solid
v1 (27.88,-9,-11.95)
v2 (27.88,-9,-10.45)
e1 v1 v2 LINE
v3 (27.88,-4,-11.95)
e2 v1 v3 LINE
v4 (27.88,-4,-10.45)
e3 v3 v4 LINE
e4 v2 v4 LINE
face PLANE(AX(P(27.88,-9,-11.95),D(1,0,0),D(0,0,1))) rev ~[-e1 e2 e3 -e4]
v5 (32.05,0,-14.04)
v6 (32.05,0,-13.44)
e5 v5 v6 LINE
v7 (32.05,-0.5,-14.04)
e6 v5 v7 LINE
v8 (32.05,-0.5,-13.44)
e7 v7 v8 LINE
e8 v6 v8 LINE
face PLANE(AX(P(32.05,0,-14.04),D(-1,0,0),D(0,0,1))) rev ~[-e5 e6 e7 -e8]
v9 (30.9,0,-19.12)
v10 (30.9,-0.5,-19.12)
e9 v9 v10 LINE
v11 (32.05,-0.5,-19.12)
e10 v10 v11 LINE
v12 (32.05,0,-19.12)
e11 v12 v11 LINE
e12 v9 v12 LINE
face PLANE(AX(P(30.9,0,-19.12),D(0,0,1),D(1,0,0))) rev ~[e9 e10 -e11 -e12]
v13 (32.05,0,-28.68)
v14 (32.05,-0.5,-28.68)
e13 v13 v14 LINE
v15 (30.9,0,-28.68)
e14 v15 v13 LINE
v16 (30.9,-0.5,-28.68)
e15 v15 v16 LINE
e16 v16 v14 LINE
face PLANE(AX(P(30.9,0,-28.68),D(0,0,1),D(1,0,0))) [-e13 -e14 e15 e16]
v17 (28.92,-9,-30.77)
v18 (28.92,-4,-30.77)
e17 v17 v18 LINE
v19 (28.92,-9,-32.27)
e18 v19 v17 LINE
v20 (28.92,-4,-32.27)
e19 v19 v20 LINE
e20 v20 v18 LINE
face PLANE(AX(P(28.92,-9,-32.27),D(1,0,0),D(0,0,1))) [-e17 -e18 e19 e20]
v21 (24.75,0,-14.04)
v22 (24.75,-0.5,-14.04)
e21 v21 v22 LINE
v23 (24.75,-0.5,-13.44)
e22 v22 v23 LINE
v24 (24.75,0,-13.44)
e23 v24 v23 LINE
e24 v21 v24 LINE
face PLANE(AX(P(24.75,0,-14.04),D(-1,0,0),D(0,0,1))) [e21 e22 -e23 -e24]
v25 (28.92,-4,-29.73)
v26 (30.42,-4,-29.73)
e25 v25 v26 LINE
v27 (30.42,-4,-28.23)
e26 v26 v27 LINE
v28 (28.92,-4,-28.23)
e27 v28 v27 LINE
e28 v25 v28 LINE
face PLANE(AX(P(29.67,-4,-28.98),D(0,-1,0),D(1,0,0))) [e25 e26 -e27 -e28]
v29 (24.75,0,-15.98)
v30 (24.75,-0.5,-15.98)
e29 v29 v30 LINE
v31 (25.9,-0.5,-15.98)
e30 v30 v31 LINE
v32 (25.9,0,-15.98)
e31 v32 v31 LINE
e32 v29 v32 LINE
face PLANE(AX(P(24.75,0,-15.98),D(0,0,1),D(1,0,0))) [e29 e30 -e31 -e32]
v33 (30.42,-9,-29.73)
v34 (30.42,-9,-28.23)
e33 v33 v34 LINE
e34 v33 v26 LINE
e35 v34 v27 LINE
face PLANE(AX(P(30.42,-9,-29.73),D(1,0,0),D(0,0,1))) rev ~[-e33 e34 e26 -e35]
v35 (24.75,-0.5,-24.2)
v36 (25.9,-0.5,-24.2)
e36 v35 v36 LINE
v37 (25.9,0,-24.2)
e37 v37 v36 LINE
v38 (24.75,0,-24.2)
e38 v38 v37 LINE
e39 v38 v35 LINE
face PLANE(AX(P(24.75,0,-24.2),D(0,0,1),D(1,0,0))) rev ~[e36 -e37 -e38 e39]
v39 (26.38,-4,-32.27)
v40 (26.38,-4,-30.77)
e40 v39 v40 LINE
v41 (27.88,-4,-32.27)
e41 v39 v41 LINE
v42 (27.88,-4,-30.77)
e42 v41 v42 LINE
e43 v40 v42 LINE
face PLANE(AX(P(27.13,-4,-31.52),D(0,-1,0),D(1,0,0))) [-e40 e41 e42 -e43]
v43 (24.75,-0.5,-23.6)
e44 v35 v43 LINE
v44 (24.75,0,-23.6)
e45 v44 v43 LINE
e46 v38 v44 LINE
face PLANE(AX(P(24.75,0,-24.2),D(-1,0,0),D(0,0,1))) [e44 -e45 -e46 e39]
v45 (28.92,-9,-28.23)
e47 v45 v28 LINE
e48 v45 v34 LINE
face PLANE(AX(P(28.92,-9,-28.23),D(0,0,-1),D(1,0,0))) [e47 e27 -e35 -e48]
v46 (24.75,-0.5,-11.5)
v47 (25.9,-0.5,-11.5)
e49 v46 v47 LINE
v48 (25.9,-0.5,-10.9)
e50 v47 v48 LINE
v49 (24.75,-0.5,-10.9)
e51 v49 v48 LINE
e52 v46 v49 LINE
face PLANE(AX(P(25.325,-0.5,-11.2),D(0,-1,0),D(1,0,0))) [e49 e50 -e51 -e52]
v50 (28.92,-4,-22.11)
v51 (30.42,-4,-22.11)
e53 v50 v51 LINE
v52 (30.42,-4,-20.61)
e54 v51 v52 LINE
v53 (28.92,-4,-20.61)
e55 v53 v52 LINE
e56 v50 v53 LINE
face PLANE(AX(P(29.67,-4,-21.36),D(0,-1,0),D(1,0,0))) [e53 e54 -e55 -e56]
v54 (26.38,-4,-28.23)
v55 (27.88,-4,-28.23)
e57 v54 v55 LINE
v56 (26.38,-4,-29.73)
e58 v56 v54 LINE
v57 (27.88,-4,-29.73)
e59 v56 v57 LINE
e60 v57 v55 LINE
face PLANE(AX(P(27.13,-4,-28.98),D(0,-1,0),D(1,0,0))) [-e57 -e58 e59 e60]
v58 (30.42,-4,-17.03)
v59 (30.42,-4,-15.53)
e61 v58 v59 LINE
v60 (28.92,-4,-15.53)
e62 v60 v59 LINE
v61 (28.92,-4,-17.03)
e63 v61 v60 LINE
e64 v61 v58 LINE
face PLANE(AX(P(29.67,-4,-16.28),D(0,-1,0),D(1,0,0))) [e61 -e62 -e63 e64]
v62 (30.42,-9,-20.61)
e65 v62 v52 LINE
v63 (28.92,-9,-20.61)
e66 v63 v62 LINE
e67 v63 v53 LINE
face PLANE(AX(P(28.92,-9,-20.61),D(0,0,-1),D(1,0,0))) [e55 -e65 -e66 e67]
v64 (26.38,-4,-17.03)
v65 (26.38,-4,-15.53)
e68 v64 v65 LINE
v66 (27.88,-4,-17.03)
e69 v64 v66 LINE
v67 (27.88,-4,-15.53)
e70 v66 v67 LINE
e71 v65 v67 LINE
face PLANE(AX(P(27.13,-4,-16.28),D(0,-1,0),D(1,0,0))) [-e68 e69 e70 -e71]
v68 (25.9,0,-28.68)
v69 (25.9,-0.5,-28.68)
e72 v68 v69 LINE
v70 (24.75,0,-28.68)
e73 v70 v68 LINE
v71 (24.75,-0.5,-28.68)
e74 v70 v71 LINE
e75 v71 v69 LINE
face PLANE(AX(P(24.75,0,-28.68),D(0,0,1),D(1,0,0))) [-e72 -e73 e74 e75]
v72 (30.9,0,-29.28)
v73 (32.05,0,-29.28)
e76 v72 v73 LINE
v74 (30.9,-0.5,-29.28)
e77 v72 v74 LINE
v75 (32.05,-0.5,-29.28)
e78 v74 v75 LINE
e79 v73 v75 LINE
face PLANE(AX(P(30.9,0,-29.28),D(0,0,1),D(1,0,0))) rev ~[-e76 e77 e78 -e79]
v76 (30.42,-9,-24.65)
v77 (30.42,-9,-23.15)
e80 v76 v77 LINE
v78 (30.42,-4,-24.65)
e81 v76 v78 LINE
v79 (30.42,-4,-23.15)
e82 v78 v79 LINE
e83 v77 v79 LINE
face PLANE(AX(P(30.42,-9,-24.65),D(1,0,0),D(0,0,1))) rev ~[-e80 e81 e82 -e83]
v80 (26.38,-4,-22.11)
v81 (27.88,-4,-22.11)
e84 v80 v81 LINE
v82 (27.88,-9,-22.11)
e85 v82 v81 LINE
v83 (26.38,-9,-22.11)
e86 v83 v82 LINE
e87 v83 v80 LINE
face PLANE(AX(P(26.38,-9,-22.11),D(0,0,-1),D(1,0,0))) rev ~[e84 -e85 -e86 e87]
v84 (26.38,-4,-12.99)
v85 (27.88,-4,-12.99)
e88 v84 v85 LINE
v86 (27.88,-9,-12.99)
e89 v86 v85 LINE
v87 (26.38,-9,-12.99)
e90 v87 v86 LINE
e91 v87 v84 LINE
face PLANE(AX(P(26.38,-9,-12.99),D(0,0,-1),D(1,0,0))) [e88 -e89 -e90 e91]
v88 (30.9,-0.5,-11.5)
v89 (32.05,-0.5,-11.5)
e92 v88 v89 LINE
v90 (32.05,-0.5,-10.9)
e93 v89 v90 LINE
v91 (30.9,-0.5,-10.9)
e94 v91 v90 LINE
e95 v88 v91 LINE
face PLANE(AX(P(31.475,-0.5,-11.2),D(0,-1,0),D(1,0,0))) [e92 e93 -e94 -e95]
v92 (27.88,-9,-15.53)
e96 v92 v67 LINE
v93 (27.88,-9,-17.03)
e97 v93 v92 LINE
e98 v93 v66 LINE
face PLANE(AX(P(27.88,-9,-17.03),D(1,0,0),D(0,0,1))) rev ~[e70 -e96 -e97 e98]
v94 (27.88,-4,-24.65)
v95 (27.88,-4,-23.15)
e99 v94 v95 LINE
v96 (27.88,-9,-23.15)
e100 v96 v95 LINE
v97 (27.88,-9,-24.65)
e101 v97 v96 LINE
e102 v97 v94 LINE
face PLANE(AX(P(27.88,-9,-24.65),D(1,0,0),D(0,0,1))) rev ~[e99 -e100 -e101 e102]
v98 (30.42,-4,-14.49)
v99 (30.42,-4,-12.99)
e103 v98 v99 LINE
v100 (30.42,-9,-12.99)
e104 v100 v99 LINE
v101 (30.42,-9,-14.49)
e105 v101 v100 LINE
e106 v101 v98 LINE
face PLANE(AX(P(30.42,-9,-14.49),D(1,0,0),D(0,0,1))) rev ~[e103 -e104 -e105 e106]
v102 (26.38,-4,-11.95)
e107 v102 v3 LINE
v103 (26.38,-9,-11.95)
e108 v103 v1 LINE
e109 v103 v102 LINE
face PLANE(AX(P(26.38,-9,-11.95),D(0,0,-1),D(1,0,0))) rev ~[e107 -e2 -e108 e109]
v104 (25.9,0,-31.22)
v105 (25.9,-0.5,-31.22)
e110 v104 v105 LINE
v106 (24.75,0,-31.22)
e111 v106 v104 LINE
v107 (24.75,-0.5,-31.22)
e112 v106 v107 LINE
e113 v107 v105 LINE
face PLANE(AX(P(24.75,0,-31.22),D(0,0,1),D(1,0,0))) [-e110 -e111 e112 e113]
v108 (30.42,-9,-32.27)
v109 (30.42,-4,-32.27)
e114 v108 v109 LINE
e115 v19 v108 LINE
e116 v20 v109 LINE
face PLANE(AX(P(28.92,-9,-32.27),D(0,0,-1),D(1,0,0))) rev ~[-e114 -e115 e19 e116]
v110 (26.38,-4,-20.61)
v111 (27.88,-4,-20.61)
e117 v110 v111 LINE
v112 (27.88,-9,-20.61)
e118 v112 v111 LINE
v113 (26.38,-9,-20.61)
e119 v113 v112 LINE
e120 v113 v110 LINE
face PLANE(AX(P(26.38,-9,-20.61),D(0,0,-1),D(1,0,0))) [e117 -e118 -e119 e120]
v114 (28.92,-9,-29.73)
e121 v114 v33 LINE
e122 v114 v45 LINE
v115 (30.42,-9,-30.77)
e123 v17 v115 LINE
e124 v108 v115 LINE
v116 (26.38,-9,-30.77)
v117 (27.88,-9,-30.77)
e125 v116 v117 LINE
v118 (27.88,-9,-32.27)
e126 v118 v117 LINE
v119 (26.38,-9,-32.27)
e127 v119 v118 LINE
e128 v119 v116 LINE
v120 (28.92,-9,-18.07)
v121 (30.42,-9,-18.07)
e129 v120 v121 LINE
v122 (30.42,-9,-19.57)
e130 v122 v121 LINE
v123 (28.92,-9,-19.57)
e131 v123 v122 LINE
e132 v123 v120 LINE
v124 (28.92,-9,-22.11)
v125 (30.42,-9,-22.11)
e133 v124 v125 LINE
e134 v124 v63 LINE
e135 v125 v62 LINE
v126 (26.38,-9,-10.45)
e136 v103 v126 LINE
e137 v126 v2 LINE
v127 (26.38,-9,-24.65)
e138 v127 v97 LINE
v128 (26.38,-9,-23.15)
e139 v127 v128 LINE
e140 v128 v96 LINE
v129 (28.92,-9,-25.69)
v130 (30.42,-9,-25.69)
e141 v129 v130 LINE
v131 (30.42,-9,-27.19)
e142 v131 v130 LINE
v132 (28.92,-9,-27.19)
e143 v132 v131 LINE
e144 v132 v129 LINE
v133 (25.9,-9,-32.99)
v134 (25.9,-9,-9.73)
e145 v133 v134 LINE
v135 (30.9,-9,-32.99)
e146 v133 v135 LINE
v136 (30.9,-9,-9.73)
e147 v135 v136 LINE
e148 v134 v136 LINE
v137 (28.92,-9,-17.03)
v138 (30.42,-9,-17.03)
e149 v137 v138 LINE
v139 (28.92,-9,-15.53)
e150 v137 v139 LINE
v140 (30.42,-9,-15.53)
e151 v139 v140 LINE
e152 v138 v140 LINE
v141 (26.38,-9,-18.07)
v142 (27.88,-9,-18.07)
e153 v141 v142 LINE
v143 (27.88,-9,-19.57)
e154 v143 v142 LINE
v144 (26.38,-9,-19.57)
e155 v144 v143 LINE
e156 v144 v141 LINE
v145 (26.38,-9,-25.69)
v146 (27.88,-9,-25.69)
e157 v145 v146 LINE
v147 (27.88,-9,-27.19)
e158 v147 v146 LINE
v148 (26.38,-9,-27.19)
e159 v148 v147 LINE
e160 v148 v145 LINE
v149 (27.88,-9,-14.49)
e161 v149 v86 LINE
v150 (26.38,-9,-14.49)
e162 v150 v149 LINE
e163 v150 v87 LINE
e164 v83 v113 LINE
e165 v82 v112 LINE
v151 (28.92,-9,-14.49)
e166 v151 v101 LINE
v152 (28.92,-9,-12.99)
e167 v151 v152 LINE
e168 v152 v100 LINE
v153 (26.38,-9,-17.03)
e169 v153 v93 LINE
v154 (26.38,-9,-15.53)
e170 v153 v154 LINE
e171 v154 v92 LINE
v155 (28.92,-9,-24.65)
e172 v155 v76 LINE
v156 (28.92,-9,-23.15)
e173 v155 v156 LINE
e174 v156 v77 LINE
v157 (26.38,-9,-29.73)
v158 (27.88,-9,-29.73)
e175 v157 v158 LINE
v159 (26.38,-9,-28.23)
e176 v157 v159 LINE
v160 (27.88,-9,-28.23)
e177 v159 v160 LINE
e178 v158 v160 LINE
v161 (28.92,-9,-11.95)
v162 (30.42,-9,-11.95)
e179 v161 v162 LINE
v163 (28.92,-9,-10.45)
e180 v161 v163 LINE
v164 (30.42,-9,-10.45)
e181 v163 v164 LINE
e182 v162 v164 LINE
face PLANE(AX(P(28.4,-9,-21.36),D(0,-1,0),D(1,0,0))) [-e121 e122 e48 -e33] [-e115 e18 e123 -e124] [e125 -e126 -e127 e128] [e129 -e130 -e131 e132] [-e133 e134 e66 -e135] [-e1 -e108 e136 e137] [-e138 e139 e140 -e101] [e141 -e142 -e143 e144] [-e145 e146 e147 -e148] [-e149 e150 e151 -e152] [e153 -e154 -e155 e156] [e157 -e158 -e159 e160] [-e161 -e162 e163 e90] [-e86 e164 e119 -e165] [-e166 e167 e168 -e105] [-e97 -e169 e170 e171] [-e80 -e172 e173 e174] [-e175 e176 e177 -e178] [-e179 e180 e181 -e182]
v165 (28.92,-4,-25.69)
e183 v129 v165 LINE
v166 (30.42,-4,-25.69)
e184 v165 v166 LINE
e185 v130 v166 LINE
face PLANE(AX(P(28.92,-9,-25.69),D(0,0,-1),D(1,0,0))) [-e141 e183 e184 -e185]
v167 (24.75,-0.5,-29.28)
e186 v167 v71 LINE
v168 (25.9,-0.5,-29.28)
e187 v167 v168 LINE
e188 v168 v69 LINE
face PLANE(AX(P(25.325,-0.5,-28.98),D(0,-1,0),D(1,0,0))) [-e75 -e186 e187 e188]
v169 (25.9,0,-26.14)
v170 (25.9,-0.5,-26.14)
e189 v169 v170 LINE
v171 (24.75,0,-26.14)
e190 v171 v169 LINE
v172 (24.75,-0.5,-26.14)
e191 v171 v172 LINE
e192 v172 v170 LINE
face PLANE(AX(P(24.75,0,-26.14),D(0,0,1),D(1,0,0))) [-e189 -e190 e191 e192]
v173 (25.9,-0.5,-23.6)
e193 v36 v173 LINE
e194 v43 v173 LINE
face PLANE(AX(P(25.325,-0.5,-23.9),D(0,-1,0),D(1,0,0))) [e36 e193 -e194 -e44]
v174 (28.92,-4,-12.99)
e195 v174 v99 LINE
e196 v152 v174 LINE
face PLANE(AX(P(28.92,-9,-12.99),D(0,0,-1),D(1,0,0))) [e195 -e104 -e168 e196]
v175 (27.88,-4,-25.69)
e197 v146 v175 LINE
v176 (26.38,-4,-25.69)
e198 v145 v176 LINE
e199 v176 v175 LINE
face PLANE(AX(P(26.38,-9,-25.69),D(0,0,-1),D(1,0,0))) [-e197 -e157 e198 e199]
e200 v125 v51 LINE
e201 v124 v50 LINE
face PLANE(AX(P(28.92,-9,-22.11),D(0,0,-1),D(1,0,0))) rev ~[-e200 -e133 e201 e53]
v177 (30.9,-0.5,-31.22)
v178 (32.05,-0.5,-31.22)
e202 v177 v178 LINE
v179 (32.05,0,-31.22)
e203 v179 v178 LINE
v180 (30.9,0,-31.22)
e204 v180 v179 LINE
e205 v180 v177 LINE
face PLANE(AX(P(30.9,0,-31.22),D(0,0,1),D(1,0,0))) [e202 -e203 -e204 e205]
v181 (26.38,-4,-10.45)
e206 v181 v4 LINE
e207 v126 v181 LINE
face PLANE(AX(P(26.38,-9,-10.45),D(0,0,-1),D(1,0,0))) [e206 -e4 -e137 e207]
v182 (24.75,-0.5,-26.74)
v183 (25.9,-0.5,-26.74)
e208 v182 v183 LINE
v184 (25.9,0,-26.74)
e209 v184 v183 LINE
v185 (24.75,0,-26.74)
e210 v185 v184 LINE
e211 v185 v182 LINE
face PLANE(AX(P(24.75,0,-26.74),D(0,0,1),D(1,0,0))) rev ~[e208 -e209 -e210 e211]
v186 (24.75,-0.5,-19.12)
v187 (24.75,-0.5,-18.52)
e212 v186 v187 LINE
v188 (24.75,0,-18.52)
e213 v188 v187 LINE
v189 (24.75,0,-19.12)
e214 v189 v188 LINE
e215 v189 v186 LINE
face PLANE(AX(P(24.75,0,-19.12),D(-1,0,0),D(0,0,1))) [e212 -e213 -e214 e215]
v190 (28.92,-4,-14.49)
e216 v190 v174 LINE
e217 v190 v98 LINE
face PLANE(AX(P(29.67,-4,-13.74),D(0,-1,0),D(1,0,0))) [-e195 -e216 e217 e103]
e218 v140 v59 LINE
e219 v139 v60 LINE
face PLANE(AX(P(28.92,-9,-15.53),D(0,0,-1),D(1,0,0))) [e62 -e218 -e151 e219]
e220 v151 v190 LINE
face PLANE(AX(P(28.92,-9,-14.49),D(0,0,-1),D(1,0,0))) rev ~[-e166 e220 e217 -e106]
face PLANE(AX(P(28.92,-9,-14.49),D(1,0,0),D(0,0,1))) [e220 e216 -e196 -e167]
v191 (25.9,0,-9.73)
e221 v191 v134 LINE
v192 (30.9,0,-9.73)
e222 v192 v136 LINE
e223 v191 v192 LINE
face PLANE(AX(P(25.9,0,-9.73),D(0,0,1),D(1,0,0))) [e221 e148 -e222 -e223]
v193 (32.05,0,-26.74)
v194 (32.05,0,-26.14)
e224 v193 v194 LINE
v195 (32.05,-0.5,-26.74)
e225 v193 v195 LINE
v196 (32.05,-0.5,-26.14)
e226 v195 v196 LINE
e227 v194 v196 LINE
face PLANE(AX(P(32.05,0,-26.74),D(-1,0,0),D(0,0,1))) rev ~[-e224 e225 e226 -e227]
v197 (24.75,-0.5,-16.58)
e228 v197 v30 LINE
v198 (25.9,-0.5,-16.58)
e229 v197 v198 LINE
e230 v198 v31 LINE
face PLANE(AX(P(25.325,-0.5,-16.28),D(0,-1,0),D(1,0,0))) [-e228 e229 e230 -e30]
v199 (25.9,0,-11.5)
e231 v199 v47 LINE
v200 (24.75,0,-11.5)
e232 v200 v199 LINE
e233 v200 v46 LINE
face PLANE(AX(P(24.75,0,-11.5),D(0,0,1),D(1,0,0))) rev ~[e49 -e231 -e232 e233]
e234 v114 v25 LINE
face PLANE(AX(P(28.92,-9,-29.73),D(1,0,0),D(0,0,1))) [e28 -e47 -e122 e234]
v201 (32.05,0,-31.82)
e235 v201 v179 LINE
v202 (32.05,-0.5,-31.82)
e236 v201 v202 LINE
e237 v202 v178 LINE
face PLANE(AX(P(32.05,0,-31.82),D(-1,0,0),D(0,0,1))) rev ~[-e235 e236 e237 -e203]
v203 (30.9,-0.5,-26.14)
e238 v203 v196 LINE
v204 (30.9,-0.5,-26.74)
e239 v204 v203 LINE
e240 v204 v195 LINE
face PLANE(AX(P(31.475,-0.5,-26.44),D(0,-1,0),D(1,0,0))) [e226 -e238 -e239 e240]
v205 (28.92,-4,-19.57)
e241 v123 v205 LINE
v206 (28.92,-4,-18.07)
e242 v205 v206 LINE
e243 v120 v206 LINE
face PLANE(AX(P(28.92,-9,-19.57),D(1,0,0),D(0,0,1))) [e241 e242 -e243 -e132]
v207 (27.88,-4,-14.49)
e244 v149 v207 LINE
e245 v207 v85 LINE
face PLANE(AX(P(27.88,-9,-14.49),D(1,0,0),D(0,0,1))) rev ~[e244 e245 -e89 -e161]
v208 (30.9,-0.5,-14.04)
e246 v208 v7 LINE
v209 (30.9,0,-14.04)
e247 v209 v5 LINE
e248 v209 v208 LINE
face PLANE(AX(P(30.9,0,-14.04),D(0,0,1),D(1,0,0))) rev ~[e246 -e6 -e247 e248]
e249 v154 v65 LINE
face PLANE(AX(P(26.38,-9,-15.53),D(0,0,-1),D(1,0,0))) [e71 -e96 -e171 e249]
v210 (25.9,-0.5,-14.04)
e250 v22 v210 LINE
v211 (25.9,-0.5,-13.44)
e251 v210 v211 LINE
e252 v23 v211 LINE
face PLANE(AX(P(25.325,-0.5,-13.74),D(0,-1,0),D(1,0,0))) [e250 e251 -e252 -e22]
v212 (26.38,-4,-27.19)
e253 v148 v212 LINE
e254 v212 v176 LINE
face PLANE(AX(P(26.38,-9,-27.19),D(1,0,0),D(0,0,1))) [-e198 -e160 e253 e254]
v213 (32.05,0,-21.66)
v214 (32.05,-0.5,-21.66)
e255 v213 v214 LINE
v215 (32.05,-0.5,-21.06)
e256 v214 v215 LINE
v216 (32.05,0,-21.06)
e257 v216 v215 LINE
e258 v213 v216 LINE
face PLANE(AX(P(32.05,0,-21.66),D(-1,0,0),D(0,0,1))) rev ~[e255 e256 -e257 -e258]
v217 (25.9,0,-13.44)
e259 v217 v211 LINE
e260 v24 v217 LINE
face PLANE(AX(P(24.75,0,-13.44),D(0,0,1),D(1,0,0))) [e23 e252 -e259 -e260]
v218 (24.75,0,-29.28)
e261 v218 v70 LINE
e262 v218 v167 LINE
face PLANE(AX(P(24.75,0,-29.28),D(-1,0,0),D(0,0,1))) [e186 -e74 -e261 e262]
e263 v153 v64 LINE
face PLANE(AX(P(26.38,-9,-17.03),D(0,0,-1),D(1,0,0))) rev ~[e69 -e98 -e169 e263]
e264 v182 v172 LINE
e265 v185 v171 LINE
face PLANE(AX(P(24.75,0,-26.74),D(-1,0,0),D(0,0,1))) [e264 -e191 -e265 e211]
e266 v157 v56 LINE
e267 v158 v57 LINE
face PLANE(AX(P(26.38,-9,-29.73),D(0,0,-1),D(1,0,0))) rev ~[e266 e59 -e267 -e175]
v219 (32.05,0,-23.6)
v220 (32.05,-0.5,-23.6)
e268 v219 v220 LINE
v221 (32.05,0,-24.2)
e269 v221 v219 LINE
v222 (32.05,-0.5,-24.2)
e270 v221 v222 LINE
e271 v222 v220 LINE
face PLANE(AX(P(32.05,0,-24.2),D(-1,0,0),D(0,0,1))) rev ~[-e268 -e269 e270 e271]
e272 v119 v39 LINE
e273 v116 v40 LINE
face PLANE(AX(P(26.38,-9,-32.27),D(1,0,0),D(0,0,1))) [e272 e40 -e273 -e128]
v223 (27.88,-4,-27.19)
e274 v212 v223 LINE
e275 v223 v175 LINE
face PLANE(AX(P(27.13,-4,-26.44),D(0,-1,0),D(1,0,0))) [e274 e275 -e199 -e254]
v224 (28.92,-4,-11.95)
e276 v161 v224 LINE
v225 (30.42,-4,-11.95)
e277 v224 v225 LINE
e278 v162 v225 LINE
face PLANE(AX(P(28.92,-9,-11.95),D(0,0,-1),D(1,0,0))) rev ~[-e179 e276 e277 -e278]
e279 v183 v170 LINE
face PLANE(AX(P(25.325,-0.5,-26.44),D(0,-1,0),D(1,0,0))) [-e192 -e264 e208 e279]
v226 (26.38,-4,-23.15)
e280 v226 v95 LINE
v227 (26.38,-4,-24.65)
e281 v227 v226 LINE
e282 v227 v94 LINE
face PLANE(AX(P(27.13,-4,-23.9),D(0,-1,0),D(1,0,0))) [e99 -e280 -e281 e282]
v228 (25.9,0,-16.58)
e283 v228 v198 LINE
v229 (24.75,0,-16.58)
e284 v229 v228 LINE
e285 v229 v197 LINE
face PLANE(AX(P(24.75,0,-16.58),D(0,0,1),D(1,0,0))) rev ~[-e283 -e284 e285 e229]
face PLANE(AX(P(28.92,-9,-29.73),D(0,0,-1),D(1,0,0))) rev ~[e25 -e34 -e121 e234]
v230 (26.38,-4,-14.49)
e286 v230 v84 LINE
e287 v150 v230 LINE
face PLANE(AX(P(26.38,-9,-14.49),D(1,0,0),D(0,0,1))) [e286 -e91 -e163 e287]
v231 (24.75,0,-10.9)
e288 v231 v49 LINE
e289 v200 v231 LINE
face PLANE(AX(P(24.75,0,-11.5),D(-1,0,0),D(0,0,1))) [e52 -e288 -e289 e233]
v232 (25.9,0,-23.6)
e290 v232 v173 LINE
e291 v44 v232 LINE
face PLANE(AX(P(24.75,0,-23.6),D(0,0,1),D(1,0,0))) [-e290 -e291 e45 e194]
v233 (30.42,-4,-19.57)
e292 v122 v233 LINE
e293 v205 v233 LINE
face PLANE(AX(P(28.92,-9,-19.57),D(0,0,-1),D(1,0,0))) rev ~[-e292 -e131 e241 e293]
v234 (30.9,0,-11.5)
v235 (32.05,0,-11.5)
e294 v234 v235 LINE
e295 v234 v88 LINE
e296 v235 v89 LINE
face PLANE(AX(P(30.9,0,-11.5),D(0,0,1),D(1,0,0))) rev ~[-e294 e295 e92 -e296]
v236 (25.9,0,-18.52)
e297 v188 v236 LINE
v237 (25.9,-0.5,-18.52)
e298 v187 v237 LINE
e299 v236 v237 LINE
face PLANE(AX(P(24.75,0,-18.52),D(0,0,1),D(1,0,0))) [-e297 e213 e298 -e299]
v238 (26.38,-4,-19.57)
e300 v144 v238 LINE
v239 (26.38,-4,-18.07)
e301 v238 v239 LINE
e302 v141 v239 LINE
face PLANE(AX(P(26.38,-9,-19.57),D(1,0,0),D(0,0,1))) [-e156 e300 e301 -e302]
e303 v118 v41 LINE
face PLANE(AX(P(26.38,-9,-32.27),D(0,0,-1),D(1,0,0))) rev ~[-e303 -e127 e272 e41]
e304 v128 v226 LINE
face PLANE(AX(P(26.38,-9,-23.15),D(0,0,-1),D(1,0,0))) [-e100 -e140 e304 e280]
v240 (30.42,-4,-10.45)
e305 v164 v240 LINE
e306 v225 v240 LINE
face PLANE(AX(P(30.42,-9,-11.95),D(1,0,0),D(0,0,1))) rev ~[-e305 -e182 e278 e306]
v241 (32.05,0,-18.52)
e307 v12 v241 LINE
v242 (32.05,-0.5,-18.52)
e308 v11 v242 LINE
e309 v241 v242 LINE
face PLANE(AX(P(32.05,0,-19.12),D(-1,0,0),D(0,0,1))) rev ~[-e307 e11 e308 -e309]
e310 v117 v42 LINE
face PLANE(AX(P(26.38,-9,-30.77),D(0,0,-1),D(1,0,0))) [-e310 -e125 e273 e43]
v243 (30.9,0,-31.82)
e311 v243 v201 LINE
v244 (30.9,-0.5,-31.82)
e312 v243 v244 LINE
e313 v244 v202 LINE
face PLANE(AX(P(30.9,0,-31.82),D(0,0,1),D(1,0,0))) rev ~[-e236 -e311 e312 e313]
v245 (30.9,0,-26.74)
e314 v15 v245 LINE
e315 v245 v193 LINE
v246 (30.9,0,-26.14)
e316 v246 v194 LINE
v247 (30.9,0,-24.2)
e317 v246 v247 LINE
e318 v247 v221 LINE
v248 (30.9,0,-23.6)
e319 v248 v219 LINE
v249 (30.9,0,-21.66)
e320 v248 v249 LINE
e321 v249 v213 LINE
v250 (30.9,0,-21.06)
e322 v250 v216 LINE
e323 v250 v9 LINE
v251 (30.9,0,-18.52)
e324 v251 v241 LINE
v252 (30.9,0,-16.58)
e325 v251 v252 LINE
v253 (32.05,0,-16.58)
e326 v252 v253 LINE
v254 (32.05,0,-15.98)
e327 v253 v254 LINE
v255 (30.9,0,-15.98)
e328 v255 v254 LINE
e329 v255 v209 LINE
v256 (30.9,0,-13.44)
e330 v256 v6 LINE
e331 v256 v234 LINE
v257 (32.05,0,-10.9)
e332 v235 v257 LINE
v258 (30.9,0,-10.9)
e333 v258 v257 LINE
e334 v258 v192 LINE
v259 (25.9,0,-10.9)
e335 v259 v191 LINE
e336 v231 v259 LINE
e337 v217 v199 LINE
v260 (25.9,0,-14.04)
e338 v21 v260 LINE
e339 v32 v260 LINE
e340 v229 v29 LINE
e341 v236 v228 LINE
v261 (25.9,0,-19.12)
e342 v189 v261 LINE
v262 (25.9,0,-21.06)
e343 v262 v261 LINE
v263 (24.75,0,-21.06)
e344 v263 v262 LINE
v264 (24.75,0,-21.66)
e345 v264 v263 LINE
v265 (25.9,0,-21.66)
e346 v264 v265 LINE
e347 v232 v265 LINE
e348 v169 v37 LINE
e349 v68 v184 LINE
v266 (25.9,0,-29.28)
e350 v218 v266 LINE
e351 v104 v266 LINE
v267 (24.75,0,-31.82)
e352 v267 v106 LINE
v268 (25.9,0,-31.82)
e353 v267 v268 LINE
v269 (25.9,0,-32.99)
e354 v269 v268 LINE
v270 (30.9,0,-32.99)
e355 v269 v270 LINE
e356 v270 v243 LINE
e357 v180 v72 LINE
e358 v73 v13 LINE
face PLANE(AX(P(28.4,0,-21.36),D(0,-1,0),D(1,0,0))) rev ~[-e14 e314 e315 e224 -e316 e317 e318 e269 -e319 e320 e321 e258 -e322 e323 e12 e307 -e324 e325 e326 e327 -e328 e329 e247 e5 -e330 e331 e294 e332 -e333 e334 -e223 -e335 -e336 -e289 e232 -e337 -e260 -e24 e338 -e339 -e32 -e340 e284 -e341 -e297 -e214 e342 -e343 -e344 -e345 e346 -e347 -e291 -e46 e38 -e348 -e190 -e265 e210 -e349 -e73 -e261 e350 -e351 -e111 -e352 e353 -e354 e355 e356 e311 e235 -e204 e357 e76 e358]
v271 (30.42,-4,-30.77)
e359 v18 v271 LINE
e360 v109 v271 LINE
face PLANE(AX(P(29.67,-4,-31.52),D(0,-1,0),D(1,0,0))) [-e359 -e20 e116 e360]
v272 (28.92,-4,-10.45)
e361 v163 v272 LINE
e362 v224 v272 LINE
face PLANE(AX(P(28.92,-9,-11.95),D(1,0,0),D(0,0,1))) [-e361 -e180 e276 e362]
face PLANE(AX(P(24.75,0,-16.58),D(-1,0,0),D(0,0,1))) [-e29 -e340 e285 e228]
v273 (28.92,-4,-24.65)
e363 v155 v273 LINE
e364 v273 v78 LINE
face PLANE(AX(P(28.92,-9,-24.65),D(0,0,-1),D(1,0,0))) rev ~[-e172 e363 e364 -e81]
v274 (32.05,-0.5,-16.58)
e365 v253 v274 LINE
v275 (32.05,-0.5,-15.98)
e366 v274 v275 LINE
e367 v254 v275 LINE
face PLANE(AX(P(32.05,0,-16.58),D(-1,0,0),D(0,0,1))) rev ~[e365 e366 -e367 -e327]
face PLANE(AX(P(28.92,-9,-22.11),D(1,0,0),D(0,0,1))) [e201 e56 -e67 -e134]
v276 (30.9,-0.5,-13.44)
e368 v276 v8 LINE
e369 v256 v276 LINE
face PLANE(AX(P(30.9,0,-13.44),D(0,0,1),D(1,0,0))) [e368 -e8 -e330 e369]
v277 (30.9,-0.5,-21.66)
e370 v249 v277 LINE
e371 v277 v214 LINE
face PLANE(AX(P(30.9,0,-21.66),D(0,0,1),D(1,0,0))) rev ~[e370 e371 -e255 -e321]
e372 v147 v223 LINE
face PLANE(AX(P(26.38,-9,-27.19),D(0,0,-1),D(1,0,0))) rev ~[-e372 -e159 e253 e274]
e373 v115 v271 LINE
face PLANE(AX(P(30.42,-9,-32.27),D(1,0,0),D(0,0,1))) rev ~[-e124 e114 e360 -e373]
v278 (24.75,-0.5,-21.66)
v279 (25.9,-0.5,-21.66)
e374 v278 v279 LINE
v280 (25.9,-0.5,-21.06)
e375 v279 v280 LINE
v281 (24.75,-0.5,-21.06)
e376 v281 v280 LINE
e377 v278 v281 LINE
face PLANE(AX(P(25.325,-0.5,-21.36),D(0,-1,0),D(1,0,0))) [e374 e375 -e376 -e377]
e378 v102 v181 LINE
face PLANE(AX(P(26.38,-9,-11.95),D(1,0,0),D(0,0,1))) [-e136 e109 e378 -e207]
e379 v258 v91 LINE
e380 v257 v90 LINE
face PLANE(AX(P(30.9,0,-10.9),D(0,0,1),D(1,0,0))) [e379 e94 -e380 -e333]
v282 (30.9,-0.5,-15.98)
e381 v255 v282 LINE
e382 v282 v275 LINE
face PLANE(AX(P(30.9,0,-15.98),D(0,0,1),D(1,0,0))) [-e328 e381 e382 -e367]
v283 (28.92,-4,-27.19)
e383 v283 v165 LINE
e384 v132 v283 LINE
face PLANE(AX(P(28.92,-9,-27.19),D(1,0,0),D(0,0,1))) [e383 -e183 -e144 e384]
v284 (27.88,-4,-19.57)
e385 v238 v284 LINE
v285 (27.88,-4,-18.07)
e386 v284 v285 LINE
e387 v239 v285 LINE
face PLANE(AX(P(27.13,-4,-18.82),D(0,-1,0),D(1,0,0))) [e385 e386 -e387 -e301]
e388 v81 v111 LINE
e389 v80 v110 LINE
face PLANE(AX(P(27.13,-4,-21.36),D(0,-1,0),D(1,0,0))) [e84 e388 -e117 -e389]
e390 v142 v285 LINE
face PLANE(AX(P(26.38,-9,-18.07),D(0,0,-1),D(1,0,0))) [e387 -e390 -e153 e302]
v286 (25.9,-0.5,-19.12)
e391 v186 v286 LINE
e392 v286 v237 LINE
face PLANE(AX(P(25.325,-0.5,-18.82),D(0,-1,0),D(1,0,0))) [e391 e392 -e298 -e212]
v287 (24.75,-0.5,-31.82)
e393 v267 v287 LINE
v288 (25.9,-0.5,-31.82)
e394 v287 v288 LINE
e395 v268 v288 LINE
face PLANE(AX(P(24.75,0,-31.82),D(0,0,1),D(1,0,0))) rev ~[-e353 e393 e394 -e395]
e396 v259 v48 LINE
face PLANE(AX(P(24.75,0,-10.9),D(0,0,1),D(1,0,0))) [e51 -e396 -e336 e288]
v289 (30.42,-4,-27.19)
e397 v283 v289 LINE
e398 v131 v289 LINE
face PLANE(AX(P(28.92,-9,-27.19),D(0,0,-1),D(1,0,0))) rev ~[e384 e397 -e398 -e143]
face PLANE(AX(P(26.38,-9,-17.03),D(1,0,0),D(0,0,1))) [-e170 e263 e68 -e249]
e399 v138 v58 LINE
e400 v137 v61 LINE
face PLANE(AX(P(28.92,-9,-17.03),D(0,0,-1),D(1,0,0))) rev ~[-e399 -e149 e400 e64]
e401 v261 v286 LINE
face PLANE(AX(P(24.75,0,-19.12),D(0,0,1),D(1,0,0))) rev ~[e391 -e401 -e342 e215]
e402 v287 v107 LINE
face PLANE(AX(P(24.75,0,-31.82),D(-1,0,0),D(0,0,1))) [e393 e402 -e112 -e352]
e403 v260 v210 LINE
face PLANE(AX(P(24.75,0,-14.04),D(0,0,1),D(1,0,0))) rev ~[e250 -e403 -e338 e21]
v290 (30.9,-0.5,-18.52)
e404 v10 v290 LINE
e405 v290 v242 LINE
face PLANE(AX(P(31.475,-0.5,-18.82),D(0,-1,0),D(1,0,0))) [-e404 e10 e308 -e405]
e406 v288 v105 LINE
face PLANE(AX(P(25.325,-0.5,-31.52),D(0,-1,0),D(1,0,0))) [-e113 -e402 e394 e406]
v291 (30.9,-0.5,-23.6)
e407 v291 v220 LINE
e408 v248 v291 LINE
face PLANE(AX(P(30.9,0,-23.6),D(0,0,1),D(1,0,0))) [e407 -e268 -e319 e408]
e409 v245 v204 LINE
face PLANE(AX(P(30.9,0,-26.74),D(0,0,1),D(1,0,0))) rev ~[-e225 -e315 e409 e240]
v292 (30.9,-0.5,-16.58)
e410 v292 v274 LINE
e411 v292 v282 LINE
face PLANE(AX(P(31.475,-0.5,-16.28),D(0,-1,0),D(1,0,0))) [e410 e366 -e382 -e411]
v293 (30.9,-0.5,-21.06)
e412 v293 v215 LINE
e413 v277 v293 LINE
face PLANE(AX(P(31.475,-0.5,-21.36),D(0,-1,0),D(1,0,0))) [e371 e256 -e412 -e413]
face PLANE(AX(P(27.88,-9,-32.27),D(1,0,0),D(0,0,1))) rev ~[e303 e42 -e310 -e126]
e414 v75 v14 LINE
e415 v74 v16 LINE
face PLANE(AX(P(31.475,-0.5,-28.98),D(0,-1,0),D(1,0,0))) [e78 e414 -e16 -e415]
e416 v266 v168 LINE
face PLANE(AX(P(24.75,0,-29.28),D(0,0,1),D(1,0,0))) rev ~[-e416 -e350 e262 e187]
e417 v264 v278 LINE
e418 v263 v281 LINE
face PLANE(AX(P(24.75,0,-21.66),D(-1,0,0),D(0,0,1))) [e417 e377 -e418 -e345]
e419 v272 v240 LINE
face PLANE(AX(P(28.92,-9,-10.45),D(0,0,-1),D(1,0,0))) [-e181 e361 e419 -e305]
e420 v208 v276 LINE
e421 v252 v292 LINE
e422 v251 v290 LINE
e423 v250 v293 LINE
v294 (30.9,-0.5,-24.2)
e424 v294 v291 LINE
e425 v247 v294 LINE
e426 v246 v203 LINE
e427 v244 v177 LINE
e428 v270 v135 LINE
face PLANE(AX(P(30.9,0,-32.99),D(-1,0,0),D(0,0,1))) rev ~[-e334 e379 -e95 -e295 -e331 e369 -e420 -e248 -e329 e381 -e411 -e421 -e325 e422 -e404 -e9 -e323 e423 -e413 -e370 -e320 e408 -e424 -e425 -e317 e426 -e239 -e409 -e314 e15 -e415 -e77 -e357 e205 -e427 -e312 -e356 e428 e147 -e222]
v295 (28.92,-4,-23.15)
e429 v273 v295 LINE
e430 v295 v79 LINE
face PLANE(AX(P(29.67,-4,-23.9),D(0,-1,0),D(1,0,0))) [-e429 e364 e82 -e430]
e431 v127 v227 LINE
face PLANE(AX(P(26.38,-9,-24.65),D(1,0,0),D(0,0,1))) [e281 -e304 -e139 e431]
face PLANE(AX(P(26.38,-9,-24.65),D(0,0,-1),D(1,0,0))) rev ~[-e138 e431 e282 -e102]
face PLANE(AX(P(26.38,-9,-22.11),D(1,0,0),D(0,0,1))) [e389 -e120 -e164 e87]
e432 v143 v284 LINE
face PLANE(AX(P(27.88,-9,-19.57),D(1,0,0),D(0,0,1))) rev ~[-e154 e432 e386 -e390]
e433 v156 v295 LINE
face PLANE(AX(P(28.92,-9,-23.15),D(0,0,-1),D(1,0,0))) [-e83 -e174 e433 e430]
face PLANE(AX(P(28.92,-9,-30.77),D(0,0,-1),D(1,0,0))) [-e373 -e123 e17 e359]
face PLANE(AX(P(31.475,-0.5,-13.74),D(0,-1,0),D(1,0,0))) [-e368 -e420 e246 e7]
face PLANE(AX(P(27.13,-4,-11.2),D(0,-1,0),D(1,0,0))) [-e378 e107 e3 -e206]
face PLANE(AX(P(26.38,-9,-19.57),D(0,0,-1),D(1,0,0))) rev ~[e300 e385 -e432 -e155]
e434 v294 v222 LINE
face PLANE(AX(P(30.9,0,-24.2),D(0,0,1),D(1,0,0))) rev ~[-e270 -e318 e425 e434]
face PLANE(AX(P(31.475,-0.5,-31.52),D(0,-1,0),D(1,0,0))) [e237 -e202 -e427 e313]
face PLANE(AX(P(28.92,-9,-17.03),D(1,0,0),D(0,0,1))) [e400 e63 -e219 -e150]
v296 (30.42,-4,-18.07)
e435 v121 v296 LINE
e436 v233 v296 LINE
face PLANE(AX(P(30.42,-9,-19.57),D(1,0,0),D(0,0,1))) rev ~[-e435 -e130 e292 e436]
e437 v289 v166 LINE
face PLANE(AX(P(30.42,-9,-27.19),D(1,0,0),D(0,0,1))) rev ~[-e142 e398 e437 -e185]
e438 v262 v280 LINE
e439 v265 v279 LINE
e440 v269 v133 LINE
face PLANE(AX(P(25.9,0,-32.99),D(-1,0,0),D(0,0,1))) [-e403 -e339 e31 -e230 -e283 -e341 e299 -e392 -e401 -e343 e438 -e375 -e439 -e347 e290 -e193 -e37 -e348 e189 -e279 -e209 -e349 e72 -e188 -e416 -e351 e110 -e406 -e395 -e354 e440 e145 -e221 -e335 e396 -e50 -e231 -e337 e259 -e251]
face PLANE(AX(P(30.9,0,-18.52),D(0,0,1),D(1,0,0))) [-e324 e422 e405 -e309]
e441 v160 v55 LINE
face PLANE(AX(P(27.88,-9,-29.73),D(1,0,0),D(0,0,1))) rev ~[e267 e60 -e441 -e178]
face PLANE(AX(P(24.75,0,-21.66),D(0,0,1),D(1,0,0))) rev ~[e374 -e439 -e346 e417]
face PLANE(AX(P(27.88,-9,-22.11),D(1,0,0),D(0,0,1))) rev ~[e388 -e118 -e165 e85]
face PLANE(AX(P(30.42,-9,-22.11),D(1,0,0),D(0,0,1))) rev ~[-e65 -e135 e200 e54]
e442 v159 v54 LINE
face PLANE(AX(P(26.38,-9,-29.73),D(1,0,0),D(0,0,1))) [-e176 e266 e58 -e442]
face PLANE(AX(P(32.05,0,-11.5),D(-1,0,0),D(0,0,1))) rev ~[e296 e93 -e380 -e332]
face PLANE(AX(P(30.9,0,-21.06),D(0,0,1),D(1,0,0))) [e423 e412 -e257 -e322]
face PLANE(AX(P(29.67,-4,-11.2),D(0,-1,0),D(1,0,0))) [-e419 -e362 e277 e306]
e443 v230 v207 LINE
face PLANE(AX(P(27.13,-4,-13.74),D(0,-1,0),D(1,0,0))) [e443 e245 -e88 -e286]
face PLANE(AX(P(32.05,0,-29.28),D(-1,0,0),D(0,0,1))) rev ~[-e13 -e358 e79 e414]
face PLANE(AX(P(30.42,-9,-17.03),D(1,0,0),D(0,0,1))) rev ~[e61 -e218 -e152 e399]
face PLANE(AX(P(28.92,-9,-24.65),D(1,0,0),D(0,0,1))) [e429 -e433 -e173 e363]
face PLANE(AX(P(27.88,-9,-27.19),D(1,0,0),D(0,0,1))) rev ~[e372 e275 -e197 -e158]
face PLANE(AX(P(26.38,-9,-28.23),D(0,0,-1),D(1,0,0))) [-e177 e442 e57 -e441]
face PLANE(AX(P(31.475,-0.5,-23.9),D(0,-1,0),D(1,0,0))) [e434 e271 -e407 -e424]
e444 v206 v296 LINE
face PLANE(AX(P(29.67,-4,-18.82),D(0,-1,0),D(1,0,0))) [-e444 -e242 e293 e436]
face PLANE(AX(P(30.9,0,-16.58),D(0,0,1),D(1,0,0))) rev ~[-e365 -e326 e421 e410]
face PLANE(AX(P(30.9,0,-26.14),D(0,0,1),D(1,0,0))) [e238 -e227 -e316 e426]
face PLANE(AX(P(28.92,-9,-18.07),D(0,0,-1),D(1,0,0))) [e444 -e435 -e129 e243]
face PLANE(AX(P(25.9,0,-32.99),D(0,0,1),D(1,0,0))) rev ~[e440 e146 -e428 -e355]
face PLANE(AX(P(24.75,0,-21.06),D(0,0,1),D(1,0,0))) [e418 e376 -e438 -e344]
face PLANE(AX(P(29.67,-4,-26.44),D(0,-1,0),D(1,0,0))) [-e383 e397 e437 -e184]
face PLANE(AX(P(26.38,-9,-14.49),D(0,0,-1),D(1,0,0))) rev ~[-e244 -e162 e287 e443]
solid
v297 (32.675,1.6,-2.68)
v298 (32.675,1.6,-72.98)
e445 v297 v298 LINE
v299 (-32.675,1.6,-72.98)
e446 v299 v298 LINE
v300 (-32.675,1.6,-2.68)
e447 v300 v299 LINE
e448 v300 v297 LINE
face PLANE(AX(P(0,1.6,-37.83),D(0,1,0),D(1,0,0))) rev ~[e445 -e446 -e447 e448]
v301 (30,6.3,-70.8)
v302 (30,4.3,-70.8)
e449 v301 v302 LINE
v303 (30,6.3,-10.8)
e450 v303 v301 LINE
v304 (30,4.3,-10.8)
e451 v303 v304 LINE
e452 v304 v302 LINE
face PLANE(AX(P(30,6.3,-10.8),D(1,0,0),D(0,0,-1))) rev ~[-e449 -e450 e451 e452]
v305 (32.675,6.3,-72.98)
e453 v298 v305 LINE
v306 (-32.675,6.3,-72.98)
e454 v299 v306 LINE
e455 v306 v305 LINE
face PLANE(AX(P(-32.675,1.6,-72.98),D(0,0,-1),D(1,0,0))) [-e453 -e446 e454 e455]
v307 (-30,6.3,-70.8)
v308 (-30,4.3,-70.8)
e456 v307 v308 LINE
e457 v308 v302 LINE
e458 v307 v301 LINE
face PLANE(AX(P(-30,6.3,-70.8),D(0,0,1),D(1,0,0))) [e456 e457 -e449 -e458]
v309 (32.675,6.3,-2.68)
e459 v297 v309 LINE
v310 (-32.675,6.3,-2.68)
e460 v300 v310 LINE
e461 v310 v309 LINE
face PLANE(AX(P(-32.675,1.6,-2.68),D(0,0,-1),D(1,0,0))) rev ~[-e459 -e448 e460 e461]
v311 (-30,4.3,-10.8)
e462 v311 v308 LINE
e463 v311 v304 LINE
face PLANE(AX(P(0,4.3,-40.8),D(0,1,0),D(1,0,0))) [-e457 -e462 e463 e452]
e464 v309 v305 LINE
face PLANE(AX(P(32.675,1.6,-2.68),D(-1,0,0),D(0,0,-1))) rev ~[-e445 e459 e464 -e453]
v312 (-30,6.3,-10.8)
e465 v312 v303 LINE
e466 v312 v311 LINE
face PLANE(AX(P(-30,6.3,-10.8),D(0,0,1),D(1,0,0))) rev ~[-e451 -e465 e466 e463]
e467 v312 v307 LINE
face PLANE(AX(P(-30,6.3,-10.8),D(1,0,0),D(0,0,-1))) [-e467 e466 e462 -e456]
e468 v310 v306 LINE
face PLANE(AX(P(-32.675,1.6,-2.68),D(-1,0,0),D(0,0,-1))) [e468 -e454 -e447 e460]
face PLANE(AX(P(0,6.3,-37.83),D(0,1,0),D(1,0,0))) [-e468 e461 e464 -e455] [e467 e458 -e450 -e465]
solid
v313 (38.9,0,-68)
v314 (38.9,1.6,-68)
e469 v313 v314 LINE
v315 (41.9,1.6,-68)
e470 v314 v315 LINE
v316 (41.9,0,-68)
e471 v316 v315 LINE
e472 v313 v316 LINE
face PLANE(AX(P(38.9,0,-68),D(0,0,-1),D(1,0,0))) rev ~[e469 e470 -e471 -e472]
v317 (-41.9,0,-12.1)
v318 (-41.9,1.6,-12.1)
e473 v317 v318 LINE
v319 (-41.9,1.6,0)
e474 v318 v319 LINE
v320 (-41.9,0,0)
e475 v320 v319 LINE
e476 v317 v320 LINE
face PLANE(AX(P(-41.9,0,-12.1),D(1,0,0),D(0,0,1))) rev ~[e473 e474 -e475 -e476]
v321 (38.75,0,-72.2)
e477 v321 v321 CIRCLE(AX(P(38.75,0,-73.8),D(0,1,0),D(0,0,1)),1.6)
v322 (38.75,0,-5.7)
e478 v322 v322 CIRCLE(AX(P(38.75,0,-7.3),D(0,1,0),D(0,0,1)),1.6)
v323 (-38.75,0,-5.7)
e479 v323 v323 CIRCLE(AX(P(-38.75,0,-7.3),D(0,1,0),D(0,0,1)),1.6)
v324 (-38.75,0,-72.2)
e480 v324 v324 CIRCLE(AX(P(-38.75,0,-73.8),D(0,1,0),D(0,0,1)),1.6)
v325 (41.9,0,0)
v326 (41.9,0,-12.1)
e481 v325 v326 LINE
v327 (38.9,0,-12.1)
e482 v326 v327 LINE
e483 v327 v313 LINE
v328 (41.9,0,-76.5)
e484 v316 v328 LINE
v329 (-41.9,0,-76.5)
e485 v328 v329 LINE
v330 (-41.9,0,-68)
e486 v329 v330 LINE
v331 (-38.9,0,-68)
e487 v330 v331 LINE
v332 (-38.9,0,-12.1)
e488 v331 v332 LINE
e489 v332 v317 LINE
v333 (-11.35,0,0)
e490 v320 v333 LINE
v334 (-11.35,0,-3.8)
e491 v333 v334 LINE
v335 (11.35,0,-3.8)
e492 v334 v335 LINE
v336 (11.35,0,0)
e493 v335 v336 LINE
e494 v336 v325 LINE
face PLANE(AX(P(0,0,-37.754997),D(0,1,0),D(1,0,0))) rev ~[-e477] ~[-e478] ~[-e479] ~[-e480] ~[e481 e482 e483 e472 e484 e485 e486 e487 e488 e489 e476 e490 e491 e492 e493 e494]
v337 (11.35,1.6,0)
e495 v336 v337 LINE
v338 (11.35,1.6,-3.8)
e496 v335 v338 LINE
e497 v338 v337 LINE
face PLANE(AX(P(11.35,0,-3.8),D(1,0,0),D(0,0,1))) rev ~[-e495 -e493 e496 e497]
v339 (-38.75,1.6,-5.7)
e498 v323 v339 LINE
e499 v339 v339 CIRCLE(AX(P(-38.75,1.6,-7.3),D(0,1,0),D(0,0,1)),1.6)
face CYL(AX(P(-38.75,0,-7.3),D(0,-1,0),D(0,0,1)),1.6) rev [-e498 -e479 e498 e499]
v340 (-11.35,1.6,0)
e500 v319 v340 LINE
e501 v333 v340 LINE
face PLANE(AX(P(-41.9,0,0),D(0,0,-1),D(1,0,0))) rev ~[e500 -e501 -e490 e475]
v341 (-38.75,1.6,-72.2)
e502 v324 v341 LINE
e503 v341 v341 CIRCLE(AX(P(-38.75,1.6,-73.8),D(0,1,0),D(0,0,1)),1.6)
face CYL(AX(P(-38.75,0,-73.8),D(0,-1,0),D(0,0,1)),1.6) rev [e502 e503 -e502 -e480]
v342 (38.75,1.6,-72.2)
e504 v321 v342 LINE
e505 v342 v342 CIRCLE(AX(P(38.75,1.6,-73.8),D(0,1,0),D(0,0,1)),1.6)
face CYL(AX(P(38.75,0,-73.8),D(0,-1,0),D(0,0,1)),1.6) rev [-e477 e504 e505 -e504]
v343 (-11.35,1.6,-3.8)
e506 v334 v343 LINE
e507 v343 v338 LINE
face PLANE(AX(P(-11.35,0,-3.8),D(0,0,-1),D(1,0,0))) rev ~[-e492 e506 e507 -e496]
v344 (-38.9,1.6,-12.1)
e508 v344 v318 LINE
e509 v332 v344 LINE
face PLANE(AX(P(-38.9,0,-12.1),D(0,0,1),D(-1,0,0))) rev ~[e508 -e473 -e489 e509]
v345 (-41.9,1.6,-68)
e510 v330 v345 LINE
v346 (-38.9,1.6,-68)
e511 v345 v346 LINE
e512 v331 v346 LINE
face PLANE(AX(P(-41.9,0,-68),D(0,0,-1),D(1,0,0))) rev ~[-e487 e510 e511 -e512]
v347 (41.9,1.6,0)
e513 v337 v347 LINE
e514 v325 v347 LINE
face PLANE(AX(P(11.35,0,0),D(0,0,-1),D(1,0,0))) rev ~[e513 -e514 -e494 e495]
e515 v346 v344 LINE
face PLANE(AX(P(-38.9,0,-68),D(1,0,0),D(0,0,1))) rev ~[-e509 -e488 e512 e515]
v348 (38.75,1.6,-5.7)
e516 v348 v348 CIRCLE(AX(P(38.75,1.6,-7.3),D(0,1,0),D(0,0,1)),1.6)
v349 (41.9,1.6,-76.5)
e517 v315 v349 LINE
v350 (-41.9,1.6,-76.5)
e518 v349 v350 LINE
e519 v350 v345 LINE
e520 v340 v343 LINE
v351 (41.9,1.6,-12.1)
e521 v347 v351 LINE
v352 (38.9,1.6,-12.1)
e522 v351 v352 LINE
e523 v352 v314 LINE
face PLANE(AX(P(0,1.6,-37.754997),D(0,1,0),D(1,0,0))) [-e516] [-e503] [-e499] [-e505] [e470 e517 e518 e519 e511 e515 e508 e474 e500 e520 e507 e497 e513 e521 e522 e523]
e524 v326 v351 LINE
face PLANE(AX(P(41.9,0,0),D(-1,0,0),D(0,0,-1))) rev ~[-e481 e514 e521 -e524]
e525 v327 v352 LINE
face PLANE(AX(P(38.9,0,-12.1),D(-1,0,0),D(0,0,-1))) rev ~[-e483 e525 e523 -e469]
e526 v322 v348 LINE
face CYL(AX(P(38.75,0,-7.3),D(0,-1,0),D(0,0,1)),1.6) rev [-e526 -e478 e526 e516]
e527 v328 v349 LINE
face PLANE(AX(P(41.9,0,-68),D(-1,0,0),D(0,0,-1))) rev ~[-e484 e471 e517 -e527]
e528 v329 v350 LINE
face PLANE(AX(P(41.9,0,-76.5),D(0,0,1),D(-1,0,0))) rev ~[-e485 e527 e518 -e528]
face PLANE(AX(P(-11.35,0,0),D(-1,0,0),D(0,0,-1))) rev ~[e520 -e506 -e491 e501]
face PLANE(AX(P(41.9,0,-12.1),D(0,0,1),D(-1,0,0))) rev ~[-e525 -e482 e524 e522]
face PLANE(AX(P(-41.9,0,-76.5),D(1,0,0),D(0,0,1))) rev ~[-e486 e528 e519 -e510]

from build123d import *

# Parameters (mm, degrees)
SKETCH_1_R          = 1.6
EXTRUDE_1_DEPTH     = 1.6
EXTRUDE_START       = 1.6
SKETCH_1_3_W        = 65.35
SKETCH_1_3_H        = 70.3
EXTRUDE_2_DEPTH     = 4.7
CUT_EXTRUDE_START   = 6.3
SKETCH_1_4_W        = 60
SKETCH_1_4_H        = 60
CUT_EXTRUDE_1_DEPTH = 2
SKETCH_2_W          = 5
SKETCH_2_H          = 23.26
EXTRUDE_3_DEPTH     = 9
SKETCH_2_3_W        = 1.15
SKETCH_2_3_H        = 0.6
EXTRUDE_4_DEPTH     = 0.5
CUT_EXTRUDE_START_2 = 9
SKETCH_2_4_W        = 1.5
SKETCH_2_4_H        = 1.5
CUT_EXTRUDE_2_DEPTH = 5


with BuildPart() as part:
    # 草图1 → 凸台-拉伸1 (new body)
    with BuildSketch(Plane(origin=(0, 0, 0), x_dir=(1, 0, 0), z_dir=(0, 1, 0))):
        Polygon((-41.9, 76.5), (-41.9, 68), (-38.9, 68), (-38.9, 12.1), (-41.9, 12.1), (-41.9, 0), (-11.35, 0), (-11.35, 3.8), (11.35, 3.8), (11.35, 0), (41.9, 0), (41.9, 12.1), (38.9, 12.1), (38.9, 68), (41.9, 68), (41.9, 76.5), align=None)
        with Locations(Location((-38.75, 73.8, 0), (0, 0, 270))):
            Circle(SKETCH_1_R, mode=Mode.SUBTRACT)
        with Locations(Location((38.75, 73.8, 0), (0, 0, 270))):
            Circle(SKETCH_1_R, mode=Mode.SUBTRACT)
        with Locations(Location((38.75, 7.3, 0), (0, 0, 270))):
            Circle(SKETCH_1_R, mode=Mode.SUBTRACT)
        with Locations(Location((-38.75, 7.3, 0), (0, 0, 270))):
            Circle(SKETCH_1_R, mode=Mode.SUBTRACT)
    extrude(amount=EXTRUDE_1_DEPTH)


with BuildPart() as body_2:
    # 草图1<3> → 凸台-拉伸2 (new body)
    with BuildSketch(Plane(origin=(0, 0, 0), x_dir=(1, 0, 0), z_dir=(0, 1, 0)).offset(EXTRUDE_START)):
        with Locations((0, 37.83)):
            Rectangle(SKETCH_1_3_W, SKETCH_1_3_H)
    extrude(amount=EXTRUDE_2_DEPTH)

    # 草图1<4> → 切除-拉伸1 (cut)
    with BuildSketch(Plane(origin=(0, 0, 0), x_dir=(1, 0, 0), z_dir=(0, 1, 0)).offset(CUT_EXTRUDE_START)):
        with Locations((0, 40.8)):
            Rectangle(SKETCH_1_4_W, SKETCH_1_4_H)
    extrude(amount=-CUT_EXTRUDE_1_DEPTH, mode=Mode.SUBTRACT)


with BuildPart() as body_3:
    # 草图2 → 凸台-拉伸3 (new body)
    with BuildSketch(Plane.XZ):
        with Locations((28.4, -21.36)):
            Rectangle(SKETCH_2_W, SKETCH_2_H)
    extrude(amount=EXTRUDE_3_DEPTH)

    # 草图2<3> → 凸台-拉伸4 (add)
    with BuildSketch(Plane.XZ):
        with Locations((31.475, -13.74)):
            Rectangle(SKETCH_2_3_W, SKETCH_2_3_H)
        with Locations((31.475, -11.2)):
            Rectangle(SKETCH_2_3_W, SKETCH_2_3_H)
        with Locations((31.475, -16.28)):
            Rectangle(SKETCH_2_3_W, SKETCH_2_3_H)
        with Locations((31.475, -18.82)):
            Rectangle(SKETCH_2_3_W, SKETCH_2_3_H)
        with Locations((31.475, -21.36)):
            Rectangle(SKETCH_2_3_W, SKETCH_2_3_H)
        with Locations((31.475, -23.9)):
            Rectangle(SKETCH_2_3_W, SKETCH_2_3_H)
        with Locations((31.475, -26.44)):
            Rectangle(SKETCH_2_3_W, SKETCH_2_3_H)
        with Locations((31.475, -28.98)):
            Rectangle(SKETCH_2_3_W, SKETCH_2_3_H)
        with Locations((31.475, -31.52)):
            Rectangle(SKETCH_2_3_W, SKETCH_2_3_H)
        with Locations((25.325, -31.52)):
            Rectangle(SKETCH_2_3_W, SKETCH_2_3_H)
        with Locations((25.325, -28.98)):
            Rectangle(SKETCH_2_3_W, SKETCH_2_3_H)
        with Locations((25.325, -26.44)):
            Rectangle(SKETCH_2_3_W, SKETCH_2_3_H)
        with Locations((25.325, -23.9)):
            Rectangle(SKETCH_2_3_W, SKETCH_2_3_H)
        with Locations((25.325, -21.36)):
            Rectangle(SKETCH_2_3_W, SKETCH_2_3_H)
        with Locations((25.325, -18.82)):
            Rectangle(SKETCH_2_3_W, SKETCH_2_3_H)
        with Locations((25.325, -16.28)):
            Rectangle(SKETCH_2_3_W, SKETCH_2_3_H)
        with Locations((25.325, -13.74)):
            Rectangle(SKETCH_2_3_W, SKETCH_2_3_H)
        with Locations((25.325, -11.2)):
            Rectangle(SKETCH_2_3_W, SKETCH_2_3_H)
    extrude(amount=EXTRUDE_4_DEPTH)

    # 草图2<4> → 切除-拉伸2 (cut)
    with BuildSketch(Plane.XZ.offset(CUT_EXTRUDE_START_2)):
        with Locations((29.67, -11.2)):
            Rectangle(SKETCH_2_4_W, SKETCH_2_4_H)
        with Locations((27.13, -11.2)):
            Rectangle(SKETCH_2_4_W, SKETCH_2_4_H)
        with Locations((27.13, -13.74)):
            Rectangle(SKETCH_2_4_W, SKETCH_2_4_H)
        with Locations((29.67, -13.74)):
            Rectangle(SKETCH_2_4_W, SKETCH_2_4_H)
        with Locations((27.13, -16.28)):
            Rectangle(SKETCH_2_4_W, SKETCH_2_4_H)
        with Locations((29.67, -16.28)):
            Rectangle(SKETCH_2_4_W, SKETCH_2_4_H)
        with Locations((27.13, -18.82)):
            Rectangle(SKETCH_2_4_W, SKETCH_2_4_H)
        with Locations((29.67, -18.82)):
            Rectangle(SKETCH_2_4_W, SKETCH_2_4_H)
        with Locations((27.13, -21.36)):
            Rectangle(SKETCH_2_4_W, SKETCH_2_4_H)
        with Locations((29.67, -21.36)):
            Rectangle(SKETCH_2_4_W, SKETCH_2_4_H)
        with Locations((27.13, -23.9)):
            Rectangle(SKETCH_2_4_W, SKETCH_2_4_H)
        with Locations((29.67, -23.9)):
            Rectangle(SKETCH_2_4_W, SKETCH_2_4_H)
        with Locations((27.13, -26.44)):
            Rectangle(SKETCH_2_4_W, SKETCH_2_4_H)
        with Locations((29.67, -26.44)):
            Rectangle(SKETCH_2_4_W, SKETCH_2_4_H)
        with Locations((27.13, -28.98)):
            Rectangle(SKETCH_2_4_W, SKETCH_2_4_H)
        with Locations((29.67, -28.98)):
            Rectangle(SKETCH_2_4_W, SKETCH_2_4_H)
        with Locations((27.13, -31.52)):
            Rectangle(SKETCH_2_4_W, SKETCH_2_4_H)
        with Locations((29.67, -31.52)):
            Rectangle(SKETCH_2_4_W, SKETCH_2_4_H)
    extrude(amount=-CUT_EXTRUDE_2_DEPTH, mode=Mode.SUBTRACT)


solid = Compound([part.part, body_2.part, body_3.part])
